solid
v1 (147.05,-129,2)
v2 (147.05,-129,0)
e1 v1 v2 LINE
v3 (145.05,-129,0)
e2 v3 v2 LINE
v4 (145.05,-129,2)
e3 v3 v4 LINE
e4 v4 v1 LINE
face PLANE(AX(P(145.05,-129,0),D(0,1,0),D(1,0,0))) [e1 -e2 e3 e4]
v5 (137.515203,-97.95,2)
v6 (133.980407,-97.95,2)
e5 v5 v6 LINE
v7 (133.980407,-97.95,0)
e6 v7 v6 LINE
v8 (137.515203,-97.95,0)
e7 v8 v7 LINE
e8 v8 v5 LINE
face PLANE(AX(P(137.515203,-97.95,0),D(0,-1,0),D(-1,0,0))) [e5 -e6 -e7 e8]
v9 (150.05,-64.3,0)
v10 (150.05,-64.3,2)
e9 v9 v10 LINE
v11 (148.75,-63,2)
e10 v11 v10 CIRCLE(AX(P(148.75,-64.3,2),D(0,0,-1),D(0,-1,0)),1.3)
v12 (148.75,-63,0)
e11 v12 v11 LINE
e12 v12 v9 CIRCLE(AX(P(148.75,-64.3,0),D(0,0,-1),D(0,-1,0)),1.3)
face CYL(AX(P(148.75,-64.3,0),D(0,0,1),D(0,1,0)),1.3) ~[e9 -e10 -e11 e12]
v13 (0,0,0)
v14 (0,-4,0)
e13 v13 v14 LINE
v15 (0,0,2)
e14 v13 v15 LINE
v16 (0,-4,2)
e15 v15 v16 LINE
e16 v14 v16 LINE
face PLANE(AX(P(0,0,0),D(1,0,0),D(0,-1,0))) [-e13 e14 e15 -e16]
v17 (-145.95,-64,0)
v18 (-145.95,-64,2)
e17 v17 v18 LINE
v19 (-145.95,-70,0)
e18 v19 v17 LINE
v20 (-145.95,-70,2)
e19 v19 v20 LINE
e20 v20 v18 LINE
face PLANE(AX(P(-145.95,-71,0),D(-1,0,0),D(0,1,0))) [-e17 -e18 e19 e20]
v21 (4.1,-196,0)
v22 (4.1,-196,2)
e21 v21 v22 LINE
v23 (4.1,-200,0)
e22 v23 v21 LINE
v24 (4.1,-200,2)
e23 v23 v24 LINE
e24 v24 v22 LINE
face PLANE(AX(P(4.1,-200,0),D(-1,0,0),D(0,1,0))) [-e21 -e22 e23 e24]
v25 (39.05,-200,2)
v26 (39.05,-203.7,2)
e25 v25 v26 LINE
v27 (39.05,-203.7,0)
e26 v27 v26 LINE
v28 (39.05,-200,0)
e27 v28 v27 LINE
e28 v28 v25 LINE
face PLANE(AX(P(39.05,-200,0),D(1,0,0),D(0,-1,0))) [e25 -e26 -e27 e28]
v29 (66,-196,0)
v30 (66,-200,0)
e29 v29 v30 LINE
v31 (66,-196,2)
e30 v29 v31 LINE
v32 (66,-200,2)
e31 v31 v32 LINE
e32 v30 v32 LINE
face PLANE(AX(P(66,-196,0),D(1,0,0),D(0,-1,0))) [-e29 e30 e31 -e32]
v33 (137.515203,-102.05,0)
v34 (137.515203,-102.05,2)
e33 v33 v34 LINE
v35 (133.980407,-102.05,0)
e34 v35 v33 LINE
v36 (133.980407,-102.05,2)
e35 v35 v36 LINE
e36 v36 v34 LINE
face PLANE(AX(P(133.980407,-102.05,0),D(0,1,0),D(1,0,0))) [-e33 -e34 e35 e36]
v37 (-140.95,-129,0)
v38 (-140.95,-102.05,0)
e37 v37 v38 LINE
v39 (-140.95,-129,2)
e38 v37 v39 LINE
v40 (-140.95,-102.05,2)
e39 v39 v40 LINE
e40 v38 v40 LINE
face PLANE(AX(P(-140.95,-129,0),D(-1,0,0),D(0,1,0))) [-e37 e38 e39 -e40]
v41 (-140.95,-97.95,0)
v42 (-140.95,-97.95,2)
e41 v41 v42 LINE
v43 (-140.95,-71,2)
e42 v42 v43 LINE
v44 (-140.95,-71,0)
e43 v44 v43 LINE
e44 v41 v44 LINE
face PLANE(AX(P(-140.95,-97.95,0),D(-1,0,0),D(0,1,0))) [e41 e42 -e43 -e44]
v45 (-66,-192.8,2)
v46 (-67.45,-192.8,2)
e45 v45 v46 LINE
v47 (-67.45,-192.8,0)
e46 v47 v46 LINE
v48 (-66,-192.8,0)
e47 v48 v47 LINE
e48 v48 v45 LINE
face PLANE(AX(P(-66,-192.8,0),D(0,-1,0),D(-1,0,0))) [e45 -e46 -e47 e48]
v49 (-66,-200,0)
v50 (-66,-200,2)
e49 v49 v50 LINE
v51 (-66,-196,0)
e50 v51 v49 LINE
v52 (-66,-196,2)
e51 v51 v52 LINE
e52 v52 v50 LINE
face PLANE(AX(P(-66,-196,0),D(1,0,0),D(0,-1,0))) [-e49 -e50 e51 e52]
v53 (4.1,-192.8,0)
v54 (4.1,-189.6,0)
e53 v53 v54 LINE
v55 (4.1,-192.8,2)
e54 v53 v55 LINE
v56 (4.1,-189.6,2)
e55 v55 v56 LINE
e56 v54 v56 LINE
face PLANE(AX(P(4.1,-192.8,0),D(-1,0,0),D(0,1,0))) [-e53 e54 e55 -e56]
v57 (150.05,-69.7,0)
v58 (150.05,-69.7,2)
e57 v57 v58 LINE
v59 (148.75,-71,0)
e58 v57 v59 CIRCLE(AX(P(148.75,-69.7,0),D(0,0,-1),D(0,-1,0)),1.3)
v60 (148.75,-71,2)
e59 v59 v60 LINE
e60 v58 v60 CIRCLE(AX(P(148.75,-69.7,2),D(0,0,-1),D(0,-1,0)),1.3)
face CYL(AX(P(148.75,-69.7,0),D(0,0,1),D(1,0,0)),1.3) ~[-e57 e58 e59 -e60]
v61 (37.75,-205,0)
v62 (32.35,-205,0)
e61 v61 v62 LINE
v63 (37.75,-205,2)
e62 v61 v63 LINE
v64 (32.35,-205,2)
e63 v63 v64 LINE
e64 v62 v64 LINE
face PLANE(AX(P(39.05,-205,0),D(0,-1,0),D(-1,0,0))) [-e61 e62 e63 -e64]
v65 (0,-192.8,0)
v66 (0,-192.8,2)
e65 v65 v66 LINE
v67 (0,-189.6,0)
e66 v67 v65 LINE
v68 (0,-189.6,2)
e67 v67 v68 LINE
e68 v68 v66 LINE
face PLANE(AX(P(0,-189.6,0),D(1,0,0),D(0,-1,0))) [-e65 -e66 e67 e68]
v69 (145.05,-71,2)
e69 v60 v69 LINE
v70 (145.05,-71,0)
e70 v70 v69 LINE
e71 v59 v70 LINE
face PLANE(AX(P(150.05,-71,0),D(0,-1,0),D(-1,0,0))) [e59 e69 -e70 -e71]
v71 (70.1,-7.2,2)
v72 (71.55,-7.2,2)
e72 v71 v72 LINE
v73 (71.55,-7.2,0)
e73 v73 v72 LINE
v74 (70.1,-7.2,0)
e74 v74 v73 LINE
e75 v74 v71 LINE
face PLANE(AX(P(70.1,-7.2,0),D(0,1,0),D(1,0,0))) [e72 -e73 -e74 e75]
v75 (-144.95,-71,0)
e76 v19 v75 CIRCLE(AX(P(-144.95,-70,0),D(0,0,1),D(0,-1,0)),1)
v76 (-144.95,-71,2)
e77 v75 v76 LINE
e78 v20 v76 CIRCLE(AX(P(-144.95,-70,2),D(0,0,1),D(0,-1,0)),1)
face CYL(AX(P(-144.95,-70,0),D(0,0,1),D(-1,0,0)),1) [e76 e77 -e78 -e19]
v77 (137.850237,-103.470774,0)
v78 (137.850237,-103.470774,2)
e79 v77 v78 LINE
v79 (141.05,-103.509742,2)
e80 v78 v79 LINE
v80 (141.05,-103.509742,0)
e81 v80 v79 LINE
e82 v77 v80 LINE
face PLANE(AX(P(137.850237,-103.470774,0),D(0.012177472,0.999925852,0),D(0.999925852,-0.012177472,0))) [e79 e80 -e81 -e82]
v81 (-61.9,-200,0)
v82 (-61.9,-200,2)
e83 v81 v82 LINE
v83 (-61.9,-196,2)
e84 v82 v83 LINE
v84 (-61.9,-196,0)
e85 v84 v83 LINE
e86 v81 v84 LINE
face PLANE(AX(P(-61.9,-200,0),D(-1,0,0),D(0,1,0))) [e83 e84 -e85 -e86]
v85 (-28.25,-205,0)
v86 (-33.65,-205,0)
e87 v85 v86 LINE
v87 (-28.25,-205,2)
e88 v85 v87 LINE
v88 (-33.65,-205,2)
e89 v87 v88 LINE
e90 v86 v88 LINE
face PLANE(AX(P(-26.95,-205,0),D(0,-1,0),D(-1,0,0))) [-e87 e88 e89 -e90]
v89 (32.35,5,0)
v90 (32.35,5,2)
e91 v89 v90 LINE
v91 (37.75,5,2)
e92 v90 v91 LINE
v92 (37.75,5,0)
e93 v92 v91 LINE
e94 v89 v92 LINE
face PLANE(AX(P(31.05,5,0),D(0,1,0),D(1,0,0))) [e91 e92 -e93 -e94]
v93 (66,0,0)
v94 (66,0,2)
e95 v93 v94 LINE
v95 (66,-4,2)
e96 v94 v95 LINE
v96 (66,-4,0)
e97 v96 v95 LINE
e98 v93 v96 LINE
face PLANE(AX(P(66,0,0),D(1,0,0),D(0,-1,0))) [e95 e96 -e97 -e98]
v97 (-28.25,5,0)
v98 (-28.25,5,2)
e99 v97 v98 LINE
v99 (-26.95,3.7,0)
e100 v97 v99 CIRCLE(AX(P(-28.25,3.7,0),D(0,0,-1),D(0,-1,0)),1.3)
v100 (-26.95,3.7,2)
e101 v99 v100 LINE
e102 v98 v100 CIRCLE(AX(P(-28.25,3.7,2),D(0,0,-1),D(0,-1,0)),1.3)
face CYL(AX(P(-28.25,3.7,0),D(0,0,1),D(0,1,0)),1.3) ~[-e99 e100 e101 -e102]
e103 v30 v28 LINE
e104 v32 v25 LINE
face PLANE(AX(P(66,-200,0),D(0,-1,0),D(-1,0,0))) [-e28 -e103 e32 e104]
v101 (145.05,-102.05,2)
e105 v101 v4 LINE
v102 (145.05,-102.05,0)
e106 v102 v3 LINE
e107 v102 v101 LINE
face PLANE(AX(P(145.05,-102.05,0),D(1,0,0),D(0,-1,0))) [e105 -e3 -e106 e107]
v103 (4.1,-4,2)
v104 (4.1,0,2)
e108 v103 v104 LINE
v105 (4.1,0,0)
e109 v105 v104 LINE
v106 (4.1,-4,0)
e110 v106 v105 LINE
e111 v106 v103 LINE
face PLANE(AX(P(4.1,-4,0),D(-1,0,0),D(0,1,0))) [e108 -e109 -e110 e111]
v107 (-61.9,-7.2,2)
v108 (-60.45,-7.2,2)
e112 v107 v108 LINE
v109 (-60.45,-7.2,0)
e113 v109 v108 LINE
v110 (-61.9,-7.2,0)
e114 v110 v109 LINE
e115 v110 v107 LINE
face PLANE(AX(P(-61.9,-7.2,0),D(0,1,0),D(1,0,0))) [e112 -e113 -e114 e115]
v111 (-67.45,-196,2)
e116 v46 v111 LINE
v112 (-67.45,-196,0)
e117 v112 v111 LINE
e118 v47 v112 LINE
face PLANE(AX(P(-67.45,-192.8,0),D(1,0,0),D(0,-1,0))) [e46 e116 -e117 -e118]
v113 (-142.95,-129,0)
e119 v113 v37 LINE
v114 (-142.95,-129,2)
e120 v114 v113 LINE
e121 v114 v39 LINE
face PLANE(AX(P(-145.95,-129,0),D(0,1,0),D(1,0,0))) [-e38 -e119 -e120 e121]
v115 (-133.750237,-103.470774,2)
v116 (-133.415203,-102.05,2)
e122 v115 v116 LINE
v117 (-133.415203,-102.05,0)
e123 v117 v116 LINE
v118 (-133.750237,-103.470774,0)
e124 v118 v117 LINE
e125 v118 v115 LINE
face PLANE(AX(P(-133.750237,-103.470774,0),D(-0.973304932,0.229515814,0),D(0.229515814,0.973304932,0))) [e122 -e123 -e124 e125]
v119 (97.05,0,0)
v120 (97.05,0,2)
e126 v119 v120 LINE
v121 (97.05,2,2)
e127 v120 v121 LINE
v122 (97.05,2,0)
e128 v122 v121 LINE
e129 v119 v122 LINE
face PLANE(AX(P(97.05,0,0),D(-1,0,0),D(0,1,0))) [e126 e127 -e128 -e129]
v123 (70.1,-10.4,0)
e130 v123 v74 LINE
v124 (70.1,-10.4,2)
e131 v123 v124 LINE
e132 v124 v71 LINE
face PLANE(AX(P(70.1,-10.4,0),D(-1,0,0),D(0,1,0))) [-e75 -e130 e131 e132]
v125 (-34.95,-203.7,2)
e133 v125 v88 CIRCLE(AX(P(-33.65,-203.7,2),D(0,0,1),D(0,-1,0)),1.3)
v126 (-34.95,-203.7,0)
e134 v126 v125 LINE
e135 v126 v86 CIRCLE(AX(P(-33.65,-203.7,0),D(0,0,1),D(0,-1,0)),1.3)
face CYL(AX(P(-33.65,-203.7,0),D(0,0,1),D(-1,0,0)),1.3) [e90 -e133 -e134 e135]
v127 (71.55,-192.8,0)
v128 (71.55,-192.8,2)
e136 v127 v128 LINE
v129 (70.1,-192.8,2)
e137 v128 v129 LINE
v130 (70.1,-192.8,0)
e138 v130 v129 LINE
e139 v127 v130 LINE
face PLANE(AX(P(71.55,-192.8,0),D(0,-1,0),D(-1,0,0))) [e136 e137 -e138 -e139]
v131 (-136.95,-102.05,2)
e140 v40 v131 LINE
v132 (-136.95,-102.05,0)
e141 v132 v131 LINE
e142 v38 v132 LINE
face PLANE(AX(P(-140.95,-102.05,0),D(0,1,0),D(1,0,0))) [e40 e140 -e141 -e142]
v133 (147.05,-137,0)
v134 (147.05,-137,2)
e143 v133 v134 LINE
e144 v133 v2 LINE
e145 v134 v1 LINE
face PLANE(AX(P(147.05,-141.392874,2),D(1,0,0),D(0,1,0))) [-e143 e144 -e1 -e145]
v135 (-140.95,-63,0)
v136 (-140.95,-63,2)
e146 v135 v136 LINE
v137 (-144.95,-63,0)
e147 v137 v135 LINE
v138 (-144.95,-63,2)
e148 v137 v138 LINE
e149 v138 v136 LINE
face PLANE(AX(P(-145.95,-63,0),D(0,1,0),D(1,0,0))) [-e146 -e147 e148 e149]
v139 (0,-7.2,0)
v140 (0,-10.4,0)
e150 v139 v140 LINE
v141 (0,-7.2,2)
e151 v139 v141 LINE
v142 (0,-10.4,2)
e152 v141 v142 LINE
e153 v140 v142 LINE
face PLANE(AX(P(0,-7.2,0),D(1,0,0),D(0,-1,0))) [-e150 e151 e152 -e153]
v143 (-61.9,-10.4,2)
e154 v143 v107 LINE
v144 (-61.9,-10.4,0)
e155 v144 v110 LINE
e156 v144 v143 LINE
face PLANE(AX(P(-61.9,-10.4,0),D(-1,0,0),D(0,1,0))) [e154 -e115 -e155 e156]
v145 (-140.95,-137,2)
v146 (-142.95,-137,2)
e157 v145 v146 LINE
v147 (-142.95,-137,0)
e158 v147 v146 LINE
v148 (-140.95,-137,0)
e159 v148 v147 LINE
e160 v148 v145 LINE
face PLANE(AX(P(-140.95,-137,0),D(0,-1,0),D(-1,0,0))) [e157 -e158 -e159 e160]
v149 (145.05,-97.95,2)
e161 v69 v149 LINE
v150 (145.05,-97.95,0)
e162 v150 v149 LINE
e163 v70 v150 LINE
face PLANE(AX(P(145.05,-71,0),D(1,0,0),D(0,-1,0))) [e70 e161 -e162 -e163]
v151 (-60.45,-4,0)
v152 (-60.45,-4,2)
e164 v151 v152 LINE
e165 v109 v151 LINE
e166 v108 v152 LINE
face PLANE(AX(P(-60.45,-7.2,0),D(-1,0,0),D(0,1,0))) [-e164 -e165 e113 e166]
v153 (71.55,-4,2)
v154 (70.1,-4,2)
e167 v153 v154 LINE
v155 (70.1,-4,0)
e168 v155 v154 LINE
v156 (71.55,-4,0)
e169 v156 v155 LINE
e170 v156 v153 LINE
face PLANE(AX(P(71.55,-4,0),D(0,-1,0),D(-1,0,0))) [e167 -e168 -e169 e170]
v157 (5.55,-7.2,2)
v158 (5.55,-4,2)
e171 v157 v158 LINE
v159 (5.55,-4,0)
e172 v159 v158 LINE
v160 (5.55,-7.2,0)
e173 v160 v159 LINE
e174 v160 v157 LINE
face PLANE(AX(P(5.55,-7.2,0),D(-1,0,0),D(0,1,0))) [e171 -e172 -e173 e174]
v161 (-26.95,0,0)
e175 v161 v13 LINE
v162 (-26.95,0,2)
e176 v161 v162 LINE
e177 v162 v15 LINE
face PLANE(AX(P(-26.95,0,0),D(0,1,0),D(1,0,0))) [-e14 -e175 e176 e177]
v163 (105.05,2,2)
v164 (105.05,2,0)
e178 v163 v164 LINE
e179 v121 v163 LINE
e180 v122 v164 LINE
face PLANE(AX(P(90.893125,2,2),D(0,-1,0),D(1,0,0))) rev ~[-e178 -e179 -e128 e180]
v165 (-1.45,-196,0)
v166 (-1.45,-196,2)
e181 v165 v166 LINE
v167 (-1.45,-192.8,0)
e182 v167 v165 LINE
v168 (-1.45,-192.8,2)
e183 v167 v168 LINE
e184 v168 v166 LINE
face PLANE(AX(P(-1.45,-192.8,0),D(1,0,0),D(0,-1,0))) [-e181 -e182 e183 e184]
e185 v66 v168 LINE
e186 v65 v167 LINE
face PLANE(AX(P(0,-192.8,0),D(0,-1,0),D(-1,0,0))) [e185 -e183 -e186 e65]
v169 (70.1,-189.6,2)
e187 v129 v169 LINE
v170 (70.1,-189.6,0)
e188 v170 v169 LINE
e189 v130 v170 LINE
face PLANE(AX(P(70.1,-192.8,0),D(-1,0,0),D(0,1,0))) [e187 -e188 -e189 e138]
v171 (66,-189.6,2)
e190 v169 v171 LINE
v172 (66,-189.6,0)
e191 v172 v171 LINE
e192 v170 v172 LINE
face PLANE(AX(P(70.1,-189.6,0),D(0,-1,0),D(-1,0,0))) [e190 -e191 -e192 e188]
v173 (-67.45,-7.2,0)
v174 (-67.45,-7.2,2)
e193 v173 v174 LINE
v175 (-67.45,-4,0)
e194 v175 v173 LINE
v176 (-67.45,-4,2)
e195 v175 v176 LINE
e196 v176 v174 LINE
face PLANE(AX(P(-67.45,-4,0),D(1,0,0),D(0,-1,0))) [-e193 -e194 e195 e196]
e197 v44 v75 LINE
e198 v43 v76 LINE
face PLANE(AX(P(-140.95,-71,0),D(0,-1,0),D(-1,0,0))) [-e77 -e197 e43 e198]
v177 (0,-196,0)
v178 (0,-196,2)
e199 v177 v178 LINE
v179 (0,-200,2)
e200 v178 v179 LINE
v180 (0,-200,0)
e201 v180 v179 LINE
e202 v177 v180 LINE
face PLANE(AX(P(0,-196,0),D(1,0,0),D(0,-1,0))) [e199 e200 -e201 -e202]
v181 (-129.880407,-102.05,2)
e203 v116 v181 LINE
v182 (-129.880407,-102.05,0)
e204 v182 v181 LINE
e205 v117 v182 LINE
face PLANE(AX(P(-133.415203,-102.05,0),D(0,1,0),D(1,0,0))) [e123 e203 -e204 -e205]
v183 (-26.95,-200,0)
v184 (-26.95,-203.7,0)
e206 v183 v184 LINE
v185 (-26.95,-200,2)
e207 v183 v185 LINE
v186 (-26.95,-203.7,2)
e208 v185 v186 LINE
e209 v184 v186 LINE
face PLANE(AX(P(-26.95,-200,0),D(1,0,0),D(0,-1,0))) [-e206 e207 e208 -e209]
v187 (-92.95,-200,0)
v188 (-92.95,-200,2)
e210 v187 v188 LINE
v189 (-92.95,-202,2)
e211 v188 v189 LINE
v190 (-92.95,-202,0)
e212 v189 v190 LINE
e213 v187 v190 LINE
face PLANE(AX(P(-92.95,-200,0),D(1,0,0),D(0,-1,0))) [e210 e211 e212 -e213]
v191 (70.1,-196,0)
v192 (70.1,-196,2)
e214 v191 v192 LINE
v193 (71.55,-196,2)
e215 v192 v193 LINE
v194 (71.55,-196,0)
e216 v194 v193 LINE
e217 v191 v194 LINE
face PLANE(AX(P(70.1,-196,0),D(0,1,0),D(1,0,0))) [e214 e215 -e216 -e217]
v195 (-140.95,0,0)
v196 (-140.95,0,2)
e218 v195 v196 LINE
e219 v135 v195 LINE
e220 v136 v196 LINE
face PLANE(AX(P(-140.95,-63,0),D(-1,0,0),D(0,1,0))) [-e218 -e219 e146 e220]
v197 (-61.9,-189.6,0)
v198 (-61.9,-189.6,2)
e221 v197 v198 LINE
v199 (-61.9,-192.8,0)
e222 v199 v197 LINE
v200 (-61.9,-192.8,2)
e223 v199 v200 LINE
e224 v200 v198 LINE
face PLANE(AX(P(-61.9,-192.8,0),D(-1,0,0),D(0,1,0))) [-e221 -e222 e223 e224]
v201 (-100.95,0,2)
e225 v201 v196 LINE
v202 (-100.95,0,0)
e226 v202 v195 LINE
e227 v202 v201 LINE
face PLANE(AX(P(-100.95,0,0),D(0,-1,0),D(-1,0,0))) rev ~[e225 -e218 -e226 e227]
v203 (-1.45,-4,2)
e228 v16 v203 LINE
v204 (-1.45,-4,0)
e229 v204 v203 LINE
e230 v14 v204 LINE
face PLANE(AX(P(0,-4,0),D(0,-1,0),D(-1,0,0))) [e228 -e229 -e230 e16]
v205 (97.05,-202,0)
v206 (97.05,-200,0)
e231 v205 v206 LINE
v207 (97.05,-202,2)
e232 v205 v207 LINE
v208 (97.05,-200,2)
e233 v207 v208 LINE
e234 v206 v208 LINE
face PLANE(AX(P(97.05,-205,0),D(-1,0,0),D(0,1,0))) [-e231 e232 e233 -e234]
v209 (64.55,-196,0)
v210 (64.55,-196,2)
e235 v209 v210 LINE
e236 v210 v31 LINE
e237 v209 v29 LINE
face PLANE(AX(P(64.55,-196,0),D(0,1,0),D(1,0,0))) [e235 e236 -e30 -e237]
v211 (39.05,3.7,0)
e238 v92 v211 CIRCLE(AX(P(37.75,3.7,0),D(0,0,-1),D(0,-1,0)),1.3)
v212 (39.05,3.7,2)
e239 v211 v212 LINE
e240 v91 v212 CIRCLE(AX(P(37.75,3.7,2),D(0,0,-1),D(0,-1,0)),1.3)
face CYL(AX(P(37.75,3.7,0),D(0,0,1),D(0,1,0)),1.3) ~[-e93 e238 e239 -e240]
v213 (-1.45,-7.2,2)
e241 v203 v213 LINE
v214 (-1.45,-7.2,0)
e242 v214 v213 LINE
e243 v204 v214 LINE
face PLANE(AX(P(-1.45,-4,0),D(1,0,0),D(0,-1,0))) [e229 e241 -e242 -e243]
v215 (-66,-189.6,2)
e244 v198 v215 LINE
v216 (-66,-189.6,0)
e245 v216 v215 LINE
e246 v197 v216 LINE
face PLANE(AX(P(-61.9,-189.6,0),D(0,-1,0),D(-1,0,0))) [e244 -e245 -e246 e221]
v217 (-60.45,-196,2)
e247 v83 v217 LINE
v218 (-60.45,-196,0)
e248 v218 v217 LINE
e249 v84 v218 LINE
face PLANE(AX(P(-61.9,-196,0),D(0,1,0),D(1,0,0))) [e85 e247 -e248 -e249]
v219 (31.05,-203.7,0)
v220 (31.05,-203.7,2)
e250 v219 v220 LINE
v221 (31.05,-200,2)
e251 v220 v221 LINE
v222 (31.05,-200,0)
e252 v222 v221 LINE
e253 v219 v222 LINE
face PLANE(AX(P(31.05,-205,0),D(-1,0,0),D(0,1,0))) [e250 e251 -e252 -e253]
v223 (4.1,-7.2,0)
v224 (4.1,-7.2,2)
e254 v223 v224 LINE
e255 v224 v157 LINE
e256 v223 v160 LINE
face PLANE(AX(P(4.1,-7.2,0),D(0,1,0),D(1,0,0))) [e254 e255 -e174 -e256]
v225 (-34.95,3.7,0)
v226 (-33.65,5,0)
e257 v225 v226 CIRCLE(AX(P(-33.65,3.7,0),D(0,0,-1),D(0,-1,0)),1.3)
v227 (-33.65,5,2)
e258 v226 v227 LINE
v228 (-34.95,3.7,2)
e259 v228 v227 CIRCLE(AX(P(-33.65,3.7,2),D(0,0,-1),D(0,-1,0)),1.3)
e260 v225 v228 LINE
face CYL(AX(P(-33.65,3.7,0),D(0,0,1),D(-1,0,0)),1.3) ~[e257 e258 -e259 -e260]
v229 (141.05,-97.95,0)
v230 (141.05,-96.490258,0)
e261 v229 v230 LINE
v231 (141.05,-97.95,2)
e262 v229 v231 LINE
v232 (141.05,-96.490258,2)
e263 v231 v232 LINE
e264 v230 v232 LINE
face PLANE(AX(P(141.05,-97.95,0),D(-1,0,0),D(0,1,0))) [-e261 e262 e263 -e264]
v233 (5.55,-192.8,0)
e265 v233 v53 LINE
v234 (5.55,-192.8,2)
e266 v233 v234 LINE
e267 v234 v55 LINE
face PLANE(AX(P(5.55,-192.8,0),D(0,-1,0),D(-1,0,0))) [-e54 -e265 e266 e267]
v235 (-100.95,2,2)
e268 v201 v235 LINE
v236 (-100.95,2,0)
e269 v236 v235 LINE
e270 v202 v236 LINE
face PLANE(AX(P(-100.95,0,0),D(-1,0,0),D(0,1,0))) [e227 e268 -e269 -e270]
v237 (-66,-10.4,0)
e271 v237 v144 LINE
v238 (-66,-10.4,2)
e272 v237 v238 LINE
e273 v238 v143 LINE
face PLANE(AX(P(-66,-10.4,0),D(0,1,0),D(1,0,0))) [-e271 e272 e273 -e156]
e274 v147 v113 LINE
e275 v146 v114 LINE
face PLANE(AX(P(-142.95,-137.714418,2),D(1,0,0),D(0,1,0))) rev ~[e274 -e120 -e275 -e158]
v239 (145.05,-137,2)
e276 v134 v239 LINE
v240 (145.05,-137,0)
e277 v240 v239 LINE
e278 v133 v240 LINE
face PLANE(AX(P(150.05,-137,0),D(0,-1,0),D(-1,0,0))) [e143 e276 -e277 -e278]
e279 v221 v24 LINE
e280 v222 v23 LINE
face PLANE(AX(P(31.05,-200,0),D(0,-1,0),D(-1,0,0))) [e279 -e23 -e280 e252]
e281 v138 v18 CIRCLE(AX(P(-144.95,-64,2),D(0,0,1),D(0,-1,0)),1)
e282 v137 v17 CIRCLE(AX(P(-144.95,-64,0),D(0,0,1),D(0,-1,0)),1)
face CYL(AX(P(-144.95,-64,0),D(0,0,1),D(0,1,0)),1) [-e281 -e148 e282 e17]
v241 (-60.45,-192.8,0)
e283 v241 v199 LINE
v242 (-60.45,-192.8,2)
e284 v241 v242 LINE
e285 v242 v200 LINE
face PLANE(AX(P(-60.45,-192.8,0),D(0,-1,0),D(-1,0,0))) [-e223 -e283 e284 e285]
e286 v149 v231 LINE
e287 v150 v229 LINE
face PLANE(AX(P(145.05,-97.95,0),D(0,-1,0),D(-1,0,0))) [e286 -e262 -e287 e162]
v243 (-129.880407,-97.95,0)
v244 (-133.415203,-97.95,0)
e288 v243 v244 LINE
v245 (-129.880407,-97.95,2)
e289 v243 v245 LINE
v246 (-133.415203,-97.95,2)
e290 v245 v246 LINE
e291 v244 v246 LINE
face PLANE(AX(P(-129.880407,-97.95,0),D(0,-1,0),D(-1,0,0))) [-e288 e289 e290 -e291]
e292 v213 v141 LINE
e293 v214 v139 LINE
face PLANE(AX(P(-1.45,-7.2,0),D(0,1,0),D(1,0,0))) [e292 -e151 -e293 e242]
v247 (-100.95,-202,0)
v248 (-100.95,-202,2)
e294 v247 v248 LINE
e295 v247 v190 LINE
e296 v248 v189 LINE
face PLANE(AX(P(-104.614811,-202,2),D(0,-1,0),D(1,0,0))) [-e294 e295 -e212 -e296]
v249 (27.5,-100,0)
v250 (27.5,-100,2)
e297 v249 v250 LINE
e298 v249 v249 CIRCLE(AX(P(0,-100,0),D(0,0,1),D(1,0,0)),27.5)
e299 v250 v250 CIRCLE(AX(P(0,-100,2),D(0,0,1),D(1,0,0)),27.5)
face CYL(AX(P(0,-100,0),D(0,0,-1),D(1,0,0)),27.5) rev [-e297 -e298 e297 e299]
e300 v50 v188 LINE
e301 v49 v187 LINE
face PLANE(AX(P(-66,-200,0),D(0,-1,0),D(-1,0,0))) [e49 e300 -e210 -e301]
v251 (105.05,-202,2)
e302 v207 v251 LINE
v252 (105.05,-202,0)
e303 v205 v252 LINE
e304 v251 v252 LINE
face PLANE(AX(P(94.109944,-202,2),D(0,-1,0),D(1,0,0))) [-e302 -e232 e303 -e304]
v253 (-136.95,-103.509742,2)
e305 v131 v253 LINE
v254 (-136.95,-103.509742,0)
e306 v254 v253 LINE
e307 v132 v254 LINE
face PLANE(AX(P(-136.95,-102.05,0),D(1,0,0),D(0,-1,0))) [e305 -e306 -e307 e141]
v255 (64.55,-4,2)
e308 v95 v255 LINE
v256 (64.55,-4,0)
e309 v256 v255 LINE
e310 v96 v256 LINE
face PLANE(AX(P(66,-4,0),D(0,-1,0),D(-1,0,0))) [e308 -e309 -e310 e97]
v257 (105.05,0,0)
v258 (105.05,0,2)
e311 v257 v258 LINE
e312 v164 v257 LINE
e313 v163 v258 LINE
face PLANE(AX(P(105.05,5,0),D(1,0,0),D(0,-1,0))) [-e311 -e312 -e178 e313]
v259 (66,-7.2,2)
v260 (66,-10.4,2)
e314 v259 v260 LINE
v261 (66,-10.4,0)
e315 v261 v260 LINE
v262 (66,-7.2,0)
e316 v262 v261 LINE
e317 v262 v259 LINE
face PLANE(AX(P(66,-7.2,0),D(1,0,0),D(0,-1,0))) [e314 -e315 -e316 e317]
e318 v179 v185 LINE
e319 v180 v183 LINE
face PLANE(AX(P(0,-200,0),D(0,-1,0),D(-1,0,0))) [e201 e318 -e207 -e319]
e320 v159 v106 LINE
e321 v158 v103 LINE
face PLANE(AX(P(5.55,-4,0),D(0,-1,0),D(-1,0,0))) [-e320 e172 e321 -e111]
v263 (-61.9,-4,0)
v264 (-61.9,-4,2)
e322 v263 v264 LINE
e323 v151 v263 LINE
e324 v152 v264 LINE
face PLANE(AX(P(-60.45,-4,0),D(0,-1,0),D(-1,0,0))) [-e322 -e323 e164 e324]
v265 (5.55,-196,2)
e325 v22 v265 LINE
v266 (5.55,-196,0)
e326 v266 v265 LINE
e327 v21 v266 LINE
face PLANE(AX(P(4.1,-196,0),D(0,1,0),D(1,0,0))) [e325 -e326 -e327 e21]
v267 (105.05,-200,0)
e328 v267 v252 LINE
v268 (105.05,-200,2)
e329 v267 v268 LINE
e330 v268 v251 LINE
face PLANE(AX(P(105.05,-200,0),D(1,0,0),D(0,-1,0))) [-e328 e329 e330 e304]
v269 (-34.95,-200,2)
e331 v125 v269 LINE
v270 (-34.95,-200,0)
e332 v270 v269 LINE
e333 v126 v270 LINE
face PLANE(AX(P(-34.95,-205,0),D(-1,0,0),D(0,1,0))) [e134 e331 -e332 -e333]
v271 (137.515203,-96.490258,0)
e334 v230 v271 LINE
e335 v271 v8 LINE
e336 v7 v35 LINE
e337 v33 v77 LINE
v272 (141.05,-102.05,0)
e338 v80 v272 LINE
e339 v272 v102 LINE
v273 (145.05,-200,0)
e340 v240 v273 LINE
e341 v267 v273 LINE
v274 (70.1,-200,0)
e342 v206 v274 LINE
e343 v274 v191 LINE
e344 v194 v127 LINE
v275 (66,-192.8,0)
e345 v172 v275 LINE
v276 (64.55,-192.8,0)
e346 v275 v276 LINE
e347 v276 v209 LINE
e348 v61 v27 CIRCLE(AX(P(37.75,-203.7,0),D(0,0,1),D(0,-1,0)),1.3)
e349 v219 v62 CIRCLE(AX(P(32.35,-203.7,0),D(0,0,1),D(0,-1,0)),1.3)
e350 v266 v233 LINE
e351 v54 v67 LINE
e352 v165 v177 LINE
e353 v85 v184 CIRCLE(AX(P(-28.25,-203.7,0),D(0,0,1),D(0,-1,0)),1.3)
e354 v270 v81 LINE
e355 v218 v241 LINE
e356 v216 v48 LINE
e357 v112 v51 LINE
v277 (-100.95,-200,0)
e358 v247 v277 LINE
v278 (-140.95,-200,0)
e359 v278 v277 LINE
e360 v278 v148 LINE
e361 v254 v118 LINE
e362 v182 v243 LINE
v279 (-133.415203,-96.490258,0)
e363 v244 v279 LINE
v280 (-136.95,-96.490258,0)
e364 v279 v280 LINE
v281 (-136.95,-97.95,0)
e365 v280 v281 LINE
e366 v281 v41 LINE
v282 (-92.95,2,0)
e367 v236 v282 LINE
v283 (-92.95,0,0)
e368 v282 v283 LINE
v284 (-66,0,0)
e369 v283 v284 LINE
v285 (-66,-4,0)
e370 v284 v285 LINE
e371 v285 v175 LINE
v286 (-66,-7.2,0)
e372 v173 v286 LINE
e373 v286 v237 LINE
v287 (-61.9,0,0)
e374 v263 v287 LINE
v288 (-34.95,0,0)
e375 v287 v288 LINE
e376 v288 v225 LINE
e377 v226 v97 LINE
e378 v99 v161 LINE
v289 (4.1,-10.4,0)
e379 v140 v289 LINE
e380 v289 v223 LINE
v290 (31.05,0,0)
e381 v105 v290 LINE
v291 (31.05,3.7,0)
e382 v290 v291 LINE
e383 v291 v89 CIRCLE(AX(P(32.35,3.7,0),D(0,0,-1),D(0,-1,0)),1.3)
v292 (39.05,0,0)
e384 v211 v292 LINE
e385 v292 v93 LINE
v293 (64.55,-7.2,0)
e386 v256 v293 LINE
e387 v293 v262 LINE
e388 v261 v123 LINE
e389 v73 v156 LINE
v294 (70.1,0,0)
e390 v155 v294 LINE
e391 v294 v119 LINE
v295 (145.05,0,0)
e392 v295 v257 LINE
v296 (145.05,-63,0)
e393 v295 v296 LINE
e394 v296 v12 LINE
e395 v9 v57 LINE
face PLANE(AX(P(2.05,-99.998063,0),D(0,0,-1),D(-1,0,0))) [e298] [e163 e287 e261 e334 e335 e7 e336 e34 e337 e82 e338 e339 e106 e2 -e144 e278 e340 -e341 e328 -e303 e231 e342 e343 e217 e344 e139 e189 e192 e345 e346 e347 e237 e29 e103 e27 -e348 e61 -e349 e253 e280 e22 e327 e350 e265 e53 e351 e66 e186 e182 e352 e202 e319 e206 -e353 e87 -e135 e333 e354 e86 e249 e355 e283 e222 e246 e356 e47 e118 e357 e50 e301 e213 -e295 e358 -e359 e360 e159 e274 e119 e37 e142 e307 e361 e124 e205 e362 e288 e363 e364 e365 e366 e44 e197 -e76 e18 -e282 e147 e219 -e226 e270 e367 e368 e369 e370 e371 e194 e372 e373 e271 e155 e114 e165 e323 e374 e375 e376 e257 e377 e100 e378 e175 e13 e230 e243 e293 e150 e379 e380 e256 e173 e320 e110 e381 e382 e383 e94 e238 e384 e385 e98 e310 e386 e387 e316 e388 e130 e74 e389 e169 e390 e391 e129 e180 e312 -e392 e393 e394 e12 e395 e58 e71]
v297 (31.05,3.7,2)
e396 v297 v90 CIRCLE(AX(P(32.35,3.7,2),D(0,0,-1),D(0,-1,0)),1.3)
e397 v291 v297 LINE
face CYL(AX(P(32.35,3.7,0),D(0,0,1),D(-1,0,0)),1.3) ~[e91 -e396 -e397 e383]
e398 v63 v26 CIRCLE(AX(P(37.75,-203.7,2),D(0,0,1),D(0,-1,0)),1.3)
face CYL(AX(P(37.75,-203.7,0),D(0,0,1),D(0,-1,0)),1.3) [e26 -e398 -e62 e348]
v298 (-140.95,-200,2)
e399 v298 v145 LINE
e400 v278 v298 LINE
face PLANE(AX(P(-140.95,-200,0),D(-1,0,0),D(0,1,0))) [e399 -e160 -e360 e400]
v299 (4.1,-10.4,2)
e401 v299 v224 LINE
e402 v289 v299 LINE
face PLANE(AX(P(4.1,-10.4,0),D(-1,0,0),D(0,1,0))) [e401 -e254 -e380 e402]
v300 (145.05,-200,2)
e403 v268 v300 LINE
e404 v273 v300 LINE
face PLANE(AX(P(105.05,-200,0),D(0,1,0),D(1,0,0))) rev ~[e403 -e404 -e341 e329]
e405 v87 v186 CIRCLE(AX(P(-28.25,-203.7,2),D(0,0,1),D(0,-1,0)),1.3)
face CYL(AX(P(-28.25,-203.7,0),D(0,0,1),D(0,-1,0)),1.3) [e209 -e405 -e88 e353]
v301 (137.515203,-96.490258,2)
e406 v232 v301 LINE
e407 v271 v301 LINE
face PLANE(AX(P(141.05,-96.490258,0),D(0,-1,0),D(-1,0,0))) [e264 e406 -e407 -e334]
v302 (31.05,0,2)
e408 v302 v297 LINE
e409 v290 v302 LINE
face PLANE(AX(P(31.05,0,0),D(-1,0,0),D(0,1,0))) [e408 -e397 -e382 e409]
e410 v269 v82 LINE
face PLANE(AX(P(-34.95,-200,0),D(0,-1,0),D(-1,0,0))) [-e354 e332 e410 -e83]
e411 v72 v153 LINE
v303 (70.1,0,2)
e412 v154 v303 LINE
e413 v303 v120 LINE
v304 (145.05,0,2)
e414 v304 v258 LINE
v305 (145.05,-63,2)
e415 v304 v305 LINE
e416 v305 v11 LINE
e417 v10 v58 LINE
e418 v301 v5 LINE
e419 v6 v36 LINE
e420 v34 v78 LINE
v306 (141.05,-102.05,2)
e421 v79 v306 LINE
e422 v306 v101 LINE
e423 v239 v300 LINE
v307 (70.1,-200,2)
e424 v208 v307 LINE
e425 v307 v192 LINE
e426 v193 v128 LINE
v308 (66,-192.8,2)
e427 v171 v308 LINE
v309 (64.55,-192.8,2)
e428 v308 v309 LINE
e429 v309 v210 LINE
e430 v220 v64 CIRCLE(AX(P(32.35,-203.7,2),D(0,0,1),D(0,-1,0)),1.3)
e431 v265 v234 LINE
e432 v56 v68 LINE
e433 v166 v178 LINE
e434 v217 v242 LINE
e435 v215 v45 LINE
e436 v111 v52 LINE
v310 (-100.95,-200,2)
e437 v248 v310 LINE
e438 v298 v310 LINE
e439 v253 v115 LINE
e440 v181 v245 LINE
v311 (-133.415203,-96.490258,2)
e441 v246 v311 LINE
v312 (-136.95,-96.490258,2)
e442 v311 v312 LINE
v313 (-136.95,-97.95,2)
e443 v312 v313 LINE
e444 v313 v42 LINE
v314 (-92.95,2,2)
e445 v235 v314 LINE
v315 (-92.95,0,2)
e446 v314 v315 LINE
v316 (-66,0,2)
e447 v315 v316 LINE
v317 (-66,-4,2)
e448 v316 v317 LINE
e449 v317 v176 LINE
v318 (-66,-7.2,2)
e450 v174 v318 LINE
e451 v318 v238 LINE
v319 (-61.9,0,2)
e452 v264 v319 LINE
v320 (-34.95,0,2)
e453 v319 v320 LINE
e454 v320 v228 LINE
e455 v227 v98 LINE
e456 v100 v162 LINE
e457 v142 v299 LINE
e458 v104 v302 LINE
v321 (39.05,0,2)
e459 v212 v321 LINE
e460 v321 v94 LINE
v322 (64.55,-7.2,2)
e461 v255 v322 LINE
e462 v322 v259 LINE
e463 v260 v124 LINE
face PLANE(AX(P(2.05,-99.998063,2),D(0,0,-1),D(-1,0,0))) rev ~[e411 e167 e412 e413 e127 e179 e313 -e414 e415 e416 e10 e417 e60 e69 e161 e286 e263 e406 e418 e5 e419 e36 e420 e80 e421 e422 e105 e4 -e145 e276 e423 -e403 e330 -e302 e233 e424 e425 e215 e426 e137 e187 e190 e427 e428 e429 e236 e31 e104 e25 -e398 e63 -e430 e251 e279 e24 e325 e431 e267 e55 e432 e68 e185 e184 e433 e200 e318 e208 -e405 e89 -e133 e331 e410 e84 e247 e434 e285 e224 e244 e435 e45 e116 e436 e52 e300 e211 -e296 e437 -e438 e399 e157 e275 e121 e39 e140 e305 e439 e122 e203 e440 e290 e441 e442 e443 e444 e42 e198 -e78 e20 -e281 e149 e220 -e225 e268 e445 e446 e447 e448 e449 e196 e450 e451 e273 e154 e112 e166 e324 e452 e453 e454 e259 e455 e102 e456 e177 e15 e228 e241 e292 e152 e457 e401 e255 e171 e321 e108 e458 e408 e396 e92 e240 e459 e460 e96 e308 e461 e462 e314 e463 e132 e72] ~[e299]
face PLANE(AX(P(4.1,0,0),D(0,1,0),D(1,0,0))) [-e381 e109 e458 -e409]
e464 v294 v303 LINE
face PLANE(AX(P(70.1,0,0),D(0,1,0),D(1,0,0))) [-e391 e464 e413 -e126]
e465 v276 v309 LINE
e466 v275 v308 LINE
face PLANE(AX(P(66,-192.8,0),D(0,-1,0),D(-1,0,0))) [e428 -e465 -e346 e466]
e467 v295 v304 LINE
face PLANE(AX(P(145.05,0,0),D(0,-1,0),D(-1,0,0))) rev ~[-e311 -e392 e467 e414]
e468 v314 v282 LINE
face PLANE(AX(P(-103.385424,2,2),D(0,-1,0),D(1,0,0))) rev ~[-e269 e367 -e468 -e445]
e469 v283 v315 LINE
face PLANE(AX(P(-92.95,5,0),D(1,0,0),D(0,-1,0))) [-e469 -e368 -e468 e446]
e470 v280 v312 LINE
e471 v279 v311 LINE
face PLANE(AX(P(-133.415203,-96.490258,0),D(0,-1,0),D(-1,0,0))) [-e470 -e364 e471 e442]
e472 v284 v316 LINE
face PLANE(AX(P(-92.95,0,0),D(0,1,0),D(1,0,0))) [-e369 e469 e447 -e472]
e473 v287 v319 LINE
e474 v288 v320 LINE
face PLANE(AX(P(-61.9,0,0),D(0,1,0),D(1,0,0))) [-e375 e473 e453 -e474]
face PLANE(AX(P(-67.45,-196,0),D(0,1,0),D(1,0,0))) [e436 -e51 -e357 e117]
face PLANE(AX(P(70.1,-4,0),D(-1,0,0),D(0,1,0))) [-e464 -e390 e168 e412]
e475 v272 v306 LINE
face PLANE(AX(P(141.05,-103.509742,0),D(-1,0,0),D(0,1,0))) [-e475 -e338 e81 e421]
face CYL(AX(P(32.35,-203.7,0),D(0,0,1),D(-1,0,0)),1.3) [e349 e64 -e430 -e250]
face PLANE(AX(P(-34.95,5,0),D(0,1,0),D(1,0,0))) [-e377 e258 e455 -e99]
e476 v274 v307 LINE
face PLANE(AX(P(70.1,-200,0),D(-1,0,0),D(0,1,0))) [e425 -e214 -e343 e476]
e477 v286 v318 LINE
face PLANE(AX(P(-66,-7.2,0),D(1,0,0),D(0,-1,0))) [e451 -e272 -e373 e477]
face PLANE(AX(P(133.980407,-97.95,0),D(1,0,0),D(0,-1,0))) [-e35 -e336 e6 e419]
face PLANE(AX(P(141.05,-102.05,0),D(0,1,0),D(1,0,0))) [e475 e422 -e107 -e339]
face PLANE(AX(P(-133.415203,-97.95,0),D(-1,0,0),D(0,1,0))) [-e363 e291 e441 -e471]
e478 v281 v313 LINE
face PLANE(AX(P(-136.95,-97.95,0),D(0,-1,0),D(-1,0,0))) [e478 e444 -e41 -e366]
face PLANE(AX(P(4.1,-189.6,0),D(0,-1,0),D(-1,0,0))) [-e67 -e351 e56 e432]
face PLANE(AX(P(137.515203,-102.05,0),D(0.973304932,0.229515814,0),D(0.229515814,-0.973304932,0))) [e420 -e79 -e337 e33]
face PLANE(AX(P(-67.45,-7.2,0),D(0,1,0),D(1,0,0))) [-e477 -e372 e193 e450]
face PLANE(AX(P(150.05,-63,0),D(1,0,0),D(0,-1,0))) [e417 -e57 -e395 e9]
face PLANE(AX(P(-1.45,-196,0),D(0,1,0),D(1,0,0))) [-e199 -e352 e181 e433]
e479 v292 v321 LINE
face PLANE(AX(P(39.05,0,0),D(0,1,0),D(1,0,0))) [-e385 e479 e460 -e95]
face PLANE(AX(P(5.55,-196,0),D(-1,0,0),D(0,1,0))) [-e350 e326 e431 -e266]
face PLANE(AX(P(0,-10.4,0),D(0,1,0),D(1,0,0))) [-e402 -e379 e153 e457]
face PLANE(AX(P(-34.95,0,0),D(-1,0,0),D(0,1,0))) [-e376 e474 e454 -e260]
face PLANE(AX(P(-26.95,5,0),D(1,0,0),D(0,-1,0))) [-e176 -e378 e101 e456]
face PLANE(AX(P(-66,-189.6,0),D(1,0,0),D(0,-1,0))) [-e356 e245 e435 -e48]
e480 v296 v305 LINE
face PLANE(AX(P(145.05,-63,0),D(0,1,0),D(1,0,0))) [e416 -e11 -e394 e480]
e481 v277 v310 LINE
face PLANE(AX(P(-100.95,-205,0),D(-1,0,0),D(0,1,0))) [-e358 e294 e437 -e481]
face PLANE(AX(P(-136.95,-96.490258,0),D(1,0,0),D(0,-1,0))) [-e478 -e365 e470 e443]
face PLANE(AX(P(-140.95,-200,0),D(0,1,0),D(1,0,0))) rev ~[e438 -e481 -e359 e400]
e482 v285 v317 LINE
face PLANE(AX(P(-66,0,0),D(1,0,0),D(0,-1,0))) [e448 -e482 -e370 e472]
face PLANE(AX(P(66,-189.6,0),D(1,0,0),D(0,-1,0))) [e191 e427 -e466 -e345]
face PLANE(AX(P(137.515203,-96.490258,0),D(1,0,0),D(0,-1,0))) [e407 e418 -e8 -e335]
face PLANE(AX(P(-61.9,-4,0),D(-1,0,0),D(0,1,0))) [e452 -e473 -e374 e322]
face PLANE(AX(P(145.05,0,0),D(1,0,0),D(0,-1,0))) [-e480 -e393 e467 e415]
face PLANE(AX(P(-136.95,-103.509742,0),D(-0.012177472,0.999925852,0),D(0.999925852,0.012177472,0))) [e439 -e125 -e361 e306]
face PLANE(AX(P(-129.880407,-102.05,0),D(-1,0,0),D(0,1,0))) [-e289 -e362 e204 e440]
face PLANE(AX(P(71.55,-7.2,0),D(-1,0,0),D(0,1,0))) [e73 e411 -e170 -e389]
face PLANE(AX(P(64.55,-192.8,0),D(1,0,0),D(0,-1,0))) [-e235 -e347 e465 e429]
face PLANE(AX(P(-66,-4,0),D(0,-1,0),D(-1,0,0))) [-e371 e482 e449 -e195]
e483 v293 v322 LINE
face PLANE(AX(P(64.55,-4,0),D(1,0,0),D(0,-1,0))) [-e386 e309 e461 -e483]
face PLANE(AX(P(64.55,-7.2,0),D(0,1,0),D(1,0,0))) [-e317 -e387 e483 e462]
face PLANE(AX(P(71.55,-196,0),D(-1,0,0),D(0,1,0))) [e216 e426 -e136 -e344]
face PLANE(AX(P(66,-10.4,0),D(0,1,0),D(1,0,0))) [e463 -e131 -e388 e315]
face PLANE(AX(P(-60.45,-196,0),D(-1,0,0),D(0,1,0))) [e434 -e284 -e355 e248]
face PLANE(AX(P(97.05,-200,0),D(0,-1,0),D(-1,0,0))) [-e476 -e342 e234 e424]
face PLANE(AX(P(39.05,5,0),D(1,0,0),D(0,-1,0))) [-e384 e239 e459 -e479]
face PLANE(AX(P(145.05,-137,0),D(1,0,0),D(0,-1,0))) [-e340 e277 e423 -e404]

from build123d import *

# Parameters (mm, degrees)
SKETCH_1_R          = 27.5
EXTRUDE_1_DEPTH     = 2
FILLET_1_R          = 1
FILLET_2_R          = 1.3
SKETCH_4_W          = 16.091181195
SKETCH_4_H          = 8.262872831
SKETCH_4_W_2        = 19.931884343
SKETCH_4_W_3        = 14.487561678
SKETCH_4_H_2        = 5.890006991
SKETCH_4_W_4        = 16.715065691
SKETCH_4_H_3        = 8.177759915
SKETCH_4_W_5        = 10.105714663
SKETCH_4_H_4        = 26.066396506
SKETCH_4_W_6        = 5.661455371
SKETCH_4_H_5        = 27.456761526
CUT_EXTRUDE_1_DEPTH = 2


with BuildPart() as part:
    # 草图1 → 凸台-拉伸1 (new body)
    with BuildSketch(Plane.XY):
        Polygon((0, 0), (0, -4), (-1.45, -4), (-1.45, -7.2), (0, -7.2), (0, -10.4), (4.1, -10.4), (4.1, -7.2), (5.55, -7.2), (5.55, -4), (4.1, -4), (4.1, 0), (31.05, 0), (31.05, 5), (39.05, 5), (39.05, 0), (66, 0), (66, -4), (64.55, -4), (64.55, -7.2), (66, -7.2), (66, -10.4), (70.1, -10.4), (70.1, -7.2), (71.55, -7.2), (71.55, -4), (70.1, -4), (70.1, 0), (97.05, 0), (97.05, 5), (105.05, 5), (105.05, 0), (132, 0), (145.05, 0), (145.05, -63), (150.05, -63), (150.05, -71), (145.05, -71), (145.05, -97.95), (141.05, -97.95), (141.05, -96.490258022), (137.515203406, -96.490258022), (137.515203406, -97.95), (133.980406811, -97.95), (133.980406811, -102.05), (137.515203406, -102.05), (137.850237274, -103.470774067), (141.05, -103.509741978), (141.05, -102.05), (145.05, -102.05), (145.05, -129), (150.05, -129), (150.05, -137), (145.05, -137), (145.05, -200), (132, -200), (105.05, -200), (105.05, -205), (97.05, -205), (97.05, -200), (70.1, -200), (70.1, -196), (71.55, -196), (71.55, -192.8), (70.1, -192.8), (70.1, -189.6), (66, -189.6), (66, -192.8), (64.55, -192.8), (64.55, -196), (66, -196), (66, -200), (39.05, -200), (39.05, -205), (31.05, -205), (31.05, -200), (4.1, -200), (4.1, -196), (5.55, -196), (5.55, -192.8), (4.1, -192.8), (4.1, -189.6), (0, -189.6), (0, -192.8), (-1.45, -192.8), (-1.45, -196), (0, -196), (0, -200), (-26.95, -200), (-26.95, -205), (-34.95, -205), (-34.95, -200), (-61.9, -200), (-61.9, -196), (-60.45, -196), (-60.45, -192.8), (-61.9, -192.8), (-61.9, -189.6), (-66, -189.6), (-66, -192.8), (-67.45, -192.8), (-67.45, -196), (-66, -196), (-66, -200), (-92.95, -200), (-92.95, -205), (-100.95, -205), (-100.95, -200), (-127.9, -200), (-140.95, -200), (-140.95, -137), (-145.95, -137), (-145.95, -129), (-140.95, -129), (-140.95, -102.05), (-136.95, -102.05), (-136.95, -103.509741978), (-133.750237274, -103.470774067), (-133.415203406, -102.05), (-129.880406811, -102.05), (-129.880406811, -97.95), (-133.415203406, -97.95), (-133.415203406, -96.490258022), (-136.95, -96.490258022), (-136.95, -97.95), (-140.95, -97.95), (-140.95, -71), (-145.95, -71), (-145.95, -63), (-140.95, -63), (-140.95, 0), (-127.9, 0), (-100.95, 0), (-100.95, 5), (-92.95, 5), (-92.95, 0), (-66, 0), (-66, -4), (-67.45, -4), (-67.45, -7.2), (-66, -7.2), (-66, -10.4), (-61.9, -10.4), (-61.9, -7.2), (-60.45, -7.2), (-60.45, -4), (-61.9, -4), (-61.9, 0), (-34.95, 0), (-34.95, 5), (-26.95, 5), (-26.95, 0), align=None)
        with Locations((0, -100)):
            Circle(SKETCH_1_R, mode=Mode.SUBTRACT)
    extrude(amount=EXTRUDE_1_DEPTH)

    # 圆角1
    fillet_1_edges = [part.edges().sort_by_distance(p)[0] for p in [
        (-145.95, -63, 1),
        (-145.95, -71, 1),
        (-145.95, -129, 1),
        (-145.95, -137, 1),
    ]]
    fillet(fillet_1_edges, radius=FILLET_1_R)

    # 圆角2
    fillet_2_edges = [part.edges().sort_by_distance(p)[0] for p in [
        (39.05, 5, 1),
        (31.05, 5, 1),
        (-26.95, 5, 1),
        (-34.95, 5, 1),
        (-92.95, 5, 1),
        (-100.95, 5, 1),
        (-100.95, -205, 1),
        (-92.95, -205, 1),
        (-34.95, -205, 1),
        (-26.95, -205, 1),
        (31.05, -205, 1),
        (39.05, -205, 1),
        (97.05, -205, 1),
        (105.05, -205, 1),
        (150.05, -137, 1),
        (150.05, -129, 1),
        (150.05, -71, 1),
        (150.05, -63, 1),
        (105.05, 5, 1),
        (97.05, 5, 1),
    ]]
    fillet(fillet_2_edges, radius=FILLET_2_R)

    # 草图4 → 切除-拉伸1 (cut)
    with BuildSketch(Plane.XY.offset(2)):
        with Locations((-95.339833075, 6.131436416)):
            Rectangle(SKETCH_4_W, SKETCH_4_H)
        with Locations((100.859067665, 6.131436416)):
            Rectangle(SKETCH_4_W_2, SKETCH_4_H)
        with Locations((-97.37103045, -204.945003496)):
            Rectangle(SKETCH_4_W_3, SKETCH_4_H_2)
        with Locations((102.467476991, -206.088879958)):
            Rectangle(SKETCH_4_W_4, SKETCH_4_H_3)
        with Locations((-148.002857332, -124.681219337)):
            Rectangle(SKETCH_4_W_5, SKETCH_4_H_4)
        with Locations((149.880727686, -127.664492951)):
            Rectangle(SKETCH_4_W_6, SKETCH_4_H_5)
    extrude(amount=-CUT_EXTRUDE_1_DEPTH, mode=Mode.SUBTRACT)


solid = part.part
